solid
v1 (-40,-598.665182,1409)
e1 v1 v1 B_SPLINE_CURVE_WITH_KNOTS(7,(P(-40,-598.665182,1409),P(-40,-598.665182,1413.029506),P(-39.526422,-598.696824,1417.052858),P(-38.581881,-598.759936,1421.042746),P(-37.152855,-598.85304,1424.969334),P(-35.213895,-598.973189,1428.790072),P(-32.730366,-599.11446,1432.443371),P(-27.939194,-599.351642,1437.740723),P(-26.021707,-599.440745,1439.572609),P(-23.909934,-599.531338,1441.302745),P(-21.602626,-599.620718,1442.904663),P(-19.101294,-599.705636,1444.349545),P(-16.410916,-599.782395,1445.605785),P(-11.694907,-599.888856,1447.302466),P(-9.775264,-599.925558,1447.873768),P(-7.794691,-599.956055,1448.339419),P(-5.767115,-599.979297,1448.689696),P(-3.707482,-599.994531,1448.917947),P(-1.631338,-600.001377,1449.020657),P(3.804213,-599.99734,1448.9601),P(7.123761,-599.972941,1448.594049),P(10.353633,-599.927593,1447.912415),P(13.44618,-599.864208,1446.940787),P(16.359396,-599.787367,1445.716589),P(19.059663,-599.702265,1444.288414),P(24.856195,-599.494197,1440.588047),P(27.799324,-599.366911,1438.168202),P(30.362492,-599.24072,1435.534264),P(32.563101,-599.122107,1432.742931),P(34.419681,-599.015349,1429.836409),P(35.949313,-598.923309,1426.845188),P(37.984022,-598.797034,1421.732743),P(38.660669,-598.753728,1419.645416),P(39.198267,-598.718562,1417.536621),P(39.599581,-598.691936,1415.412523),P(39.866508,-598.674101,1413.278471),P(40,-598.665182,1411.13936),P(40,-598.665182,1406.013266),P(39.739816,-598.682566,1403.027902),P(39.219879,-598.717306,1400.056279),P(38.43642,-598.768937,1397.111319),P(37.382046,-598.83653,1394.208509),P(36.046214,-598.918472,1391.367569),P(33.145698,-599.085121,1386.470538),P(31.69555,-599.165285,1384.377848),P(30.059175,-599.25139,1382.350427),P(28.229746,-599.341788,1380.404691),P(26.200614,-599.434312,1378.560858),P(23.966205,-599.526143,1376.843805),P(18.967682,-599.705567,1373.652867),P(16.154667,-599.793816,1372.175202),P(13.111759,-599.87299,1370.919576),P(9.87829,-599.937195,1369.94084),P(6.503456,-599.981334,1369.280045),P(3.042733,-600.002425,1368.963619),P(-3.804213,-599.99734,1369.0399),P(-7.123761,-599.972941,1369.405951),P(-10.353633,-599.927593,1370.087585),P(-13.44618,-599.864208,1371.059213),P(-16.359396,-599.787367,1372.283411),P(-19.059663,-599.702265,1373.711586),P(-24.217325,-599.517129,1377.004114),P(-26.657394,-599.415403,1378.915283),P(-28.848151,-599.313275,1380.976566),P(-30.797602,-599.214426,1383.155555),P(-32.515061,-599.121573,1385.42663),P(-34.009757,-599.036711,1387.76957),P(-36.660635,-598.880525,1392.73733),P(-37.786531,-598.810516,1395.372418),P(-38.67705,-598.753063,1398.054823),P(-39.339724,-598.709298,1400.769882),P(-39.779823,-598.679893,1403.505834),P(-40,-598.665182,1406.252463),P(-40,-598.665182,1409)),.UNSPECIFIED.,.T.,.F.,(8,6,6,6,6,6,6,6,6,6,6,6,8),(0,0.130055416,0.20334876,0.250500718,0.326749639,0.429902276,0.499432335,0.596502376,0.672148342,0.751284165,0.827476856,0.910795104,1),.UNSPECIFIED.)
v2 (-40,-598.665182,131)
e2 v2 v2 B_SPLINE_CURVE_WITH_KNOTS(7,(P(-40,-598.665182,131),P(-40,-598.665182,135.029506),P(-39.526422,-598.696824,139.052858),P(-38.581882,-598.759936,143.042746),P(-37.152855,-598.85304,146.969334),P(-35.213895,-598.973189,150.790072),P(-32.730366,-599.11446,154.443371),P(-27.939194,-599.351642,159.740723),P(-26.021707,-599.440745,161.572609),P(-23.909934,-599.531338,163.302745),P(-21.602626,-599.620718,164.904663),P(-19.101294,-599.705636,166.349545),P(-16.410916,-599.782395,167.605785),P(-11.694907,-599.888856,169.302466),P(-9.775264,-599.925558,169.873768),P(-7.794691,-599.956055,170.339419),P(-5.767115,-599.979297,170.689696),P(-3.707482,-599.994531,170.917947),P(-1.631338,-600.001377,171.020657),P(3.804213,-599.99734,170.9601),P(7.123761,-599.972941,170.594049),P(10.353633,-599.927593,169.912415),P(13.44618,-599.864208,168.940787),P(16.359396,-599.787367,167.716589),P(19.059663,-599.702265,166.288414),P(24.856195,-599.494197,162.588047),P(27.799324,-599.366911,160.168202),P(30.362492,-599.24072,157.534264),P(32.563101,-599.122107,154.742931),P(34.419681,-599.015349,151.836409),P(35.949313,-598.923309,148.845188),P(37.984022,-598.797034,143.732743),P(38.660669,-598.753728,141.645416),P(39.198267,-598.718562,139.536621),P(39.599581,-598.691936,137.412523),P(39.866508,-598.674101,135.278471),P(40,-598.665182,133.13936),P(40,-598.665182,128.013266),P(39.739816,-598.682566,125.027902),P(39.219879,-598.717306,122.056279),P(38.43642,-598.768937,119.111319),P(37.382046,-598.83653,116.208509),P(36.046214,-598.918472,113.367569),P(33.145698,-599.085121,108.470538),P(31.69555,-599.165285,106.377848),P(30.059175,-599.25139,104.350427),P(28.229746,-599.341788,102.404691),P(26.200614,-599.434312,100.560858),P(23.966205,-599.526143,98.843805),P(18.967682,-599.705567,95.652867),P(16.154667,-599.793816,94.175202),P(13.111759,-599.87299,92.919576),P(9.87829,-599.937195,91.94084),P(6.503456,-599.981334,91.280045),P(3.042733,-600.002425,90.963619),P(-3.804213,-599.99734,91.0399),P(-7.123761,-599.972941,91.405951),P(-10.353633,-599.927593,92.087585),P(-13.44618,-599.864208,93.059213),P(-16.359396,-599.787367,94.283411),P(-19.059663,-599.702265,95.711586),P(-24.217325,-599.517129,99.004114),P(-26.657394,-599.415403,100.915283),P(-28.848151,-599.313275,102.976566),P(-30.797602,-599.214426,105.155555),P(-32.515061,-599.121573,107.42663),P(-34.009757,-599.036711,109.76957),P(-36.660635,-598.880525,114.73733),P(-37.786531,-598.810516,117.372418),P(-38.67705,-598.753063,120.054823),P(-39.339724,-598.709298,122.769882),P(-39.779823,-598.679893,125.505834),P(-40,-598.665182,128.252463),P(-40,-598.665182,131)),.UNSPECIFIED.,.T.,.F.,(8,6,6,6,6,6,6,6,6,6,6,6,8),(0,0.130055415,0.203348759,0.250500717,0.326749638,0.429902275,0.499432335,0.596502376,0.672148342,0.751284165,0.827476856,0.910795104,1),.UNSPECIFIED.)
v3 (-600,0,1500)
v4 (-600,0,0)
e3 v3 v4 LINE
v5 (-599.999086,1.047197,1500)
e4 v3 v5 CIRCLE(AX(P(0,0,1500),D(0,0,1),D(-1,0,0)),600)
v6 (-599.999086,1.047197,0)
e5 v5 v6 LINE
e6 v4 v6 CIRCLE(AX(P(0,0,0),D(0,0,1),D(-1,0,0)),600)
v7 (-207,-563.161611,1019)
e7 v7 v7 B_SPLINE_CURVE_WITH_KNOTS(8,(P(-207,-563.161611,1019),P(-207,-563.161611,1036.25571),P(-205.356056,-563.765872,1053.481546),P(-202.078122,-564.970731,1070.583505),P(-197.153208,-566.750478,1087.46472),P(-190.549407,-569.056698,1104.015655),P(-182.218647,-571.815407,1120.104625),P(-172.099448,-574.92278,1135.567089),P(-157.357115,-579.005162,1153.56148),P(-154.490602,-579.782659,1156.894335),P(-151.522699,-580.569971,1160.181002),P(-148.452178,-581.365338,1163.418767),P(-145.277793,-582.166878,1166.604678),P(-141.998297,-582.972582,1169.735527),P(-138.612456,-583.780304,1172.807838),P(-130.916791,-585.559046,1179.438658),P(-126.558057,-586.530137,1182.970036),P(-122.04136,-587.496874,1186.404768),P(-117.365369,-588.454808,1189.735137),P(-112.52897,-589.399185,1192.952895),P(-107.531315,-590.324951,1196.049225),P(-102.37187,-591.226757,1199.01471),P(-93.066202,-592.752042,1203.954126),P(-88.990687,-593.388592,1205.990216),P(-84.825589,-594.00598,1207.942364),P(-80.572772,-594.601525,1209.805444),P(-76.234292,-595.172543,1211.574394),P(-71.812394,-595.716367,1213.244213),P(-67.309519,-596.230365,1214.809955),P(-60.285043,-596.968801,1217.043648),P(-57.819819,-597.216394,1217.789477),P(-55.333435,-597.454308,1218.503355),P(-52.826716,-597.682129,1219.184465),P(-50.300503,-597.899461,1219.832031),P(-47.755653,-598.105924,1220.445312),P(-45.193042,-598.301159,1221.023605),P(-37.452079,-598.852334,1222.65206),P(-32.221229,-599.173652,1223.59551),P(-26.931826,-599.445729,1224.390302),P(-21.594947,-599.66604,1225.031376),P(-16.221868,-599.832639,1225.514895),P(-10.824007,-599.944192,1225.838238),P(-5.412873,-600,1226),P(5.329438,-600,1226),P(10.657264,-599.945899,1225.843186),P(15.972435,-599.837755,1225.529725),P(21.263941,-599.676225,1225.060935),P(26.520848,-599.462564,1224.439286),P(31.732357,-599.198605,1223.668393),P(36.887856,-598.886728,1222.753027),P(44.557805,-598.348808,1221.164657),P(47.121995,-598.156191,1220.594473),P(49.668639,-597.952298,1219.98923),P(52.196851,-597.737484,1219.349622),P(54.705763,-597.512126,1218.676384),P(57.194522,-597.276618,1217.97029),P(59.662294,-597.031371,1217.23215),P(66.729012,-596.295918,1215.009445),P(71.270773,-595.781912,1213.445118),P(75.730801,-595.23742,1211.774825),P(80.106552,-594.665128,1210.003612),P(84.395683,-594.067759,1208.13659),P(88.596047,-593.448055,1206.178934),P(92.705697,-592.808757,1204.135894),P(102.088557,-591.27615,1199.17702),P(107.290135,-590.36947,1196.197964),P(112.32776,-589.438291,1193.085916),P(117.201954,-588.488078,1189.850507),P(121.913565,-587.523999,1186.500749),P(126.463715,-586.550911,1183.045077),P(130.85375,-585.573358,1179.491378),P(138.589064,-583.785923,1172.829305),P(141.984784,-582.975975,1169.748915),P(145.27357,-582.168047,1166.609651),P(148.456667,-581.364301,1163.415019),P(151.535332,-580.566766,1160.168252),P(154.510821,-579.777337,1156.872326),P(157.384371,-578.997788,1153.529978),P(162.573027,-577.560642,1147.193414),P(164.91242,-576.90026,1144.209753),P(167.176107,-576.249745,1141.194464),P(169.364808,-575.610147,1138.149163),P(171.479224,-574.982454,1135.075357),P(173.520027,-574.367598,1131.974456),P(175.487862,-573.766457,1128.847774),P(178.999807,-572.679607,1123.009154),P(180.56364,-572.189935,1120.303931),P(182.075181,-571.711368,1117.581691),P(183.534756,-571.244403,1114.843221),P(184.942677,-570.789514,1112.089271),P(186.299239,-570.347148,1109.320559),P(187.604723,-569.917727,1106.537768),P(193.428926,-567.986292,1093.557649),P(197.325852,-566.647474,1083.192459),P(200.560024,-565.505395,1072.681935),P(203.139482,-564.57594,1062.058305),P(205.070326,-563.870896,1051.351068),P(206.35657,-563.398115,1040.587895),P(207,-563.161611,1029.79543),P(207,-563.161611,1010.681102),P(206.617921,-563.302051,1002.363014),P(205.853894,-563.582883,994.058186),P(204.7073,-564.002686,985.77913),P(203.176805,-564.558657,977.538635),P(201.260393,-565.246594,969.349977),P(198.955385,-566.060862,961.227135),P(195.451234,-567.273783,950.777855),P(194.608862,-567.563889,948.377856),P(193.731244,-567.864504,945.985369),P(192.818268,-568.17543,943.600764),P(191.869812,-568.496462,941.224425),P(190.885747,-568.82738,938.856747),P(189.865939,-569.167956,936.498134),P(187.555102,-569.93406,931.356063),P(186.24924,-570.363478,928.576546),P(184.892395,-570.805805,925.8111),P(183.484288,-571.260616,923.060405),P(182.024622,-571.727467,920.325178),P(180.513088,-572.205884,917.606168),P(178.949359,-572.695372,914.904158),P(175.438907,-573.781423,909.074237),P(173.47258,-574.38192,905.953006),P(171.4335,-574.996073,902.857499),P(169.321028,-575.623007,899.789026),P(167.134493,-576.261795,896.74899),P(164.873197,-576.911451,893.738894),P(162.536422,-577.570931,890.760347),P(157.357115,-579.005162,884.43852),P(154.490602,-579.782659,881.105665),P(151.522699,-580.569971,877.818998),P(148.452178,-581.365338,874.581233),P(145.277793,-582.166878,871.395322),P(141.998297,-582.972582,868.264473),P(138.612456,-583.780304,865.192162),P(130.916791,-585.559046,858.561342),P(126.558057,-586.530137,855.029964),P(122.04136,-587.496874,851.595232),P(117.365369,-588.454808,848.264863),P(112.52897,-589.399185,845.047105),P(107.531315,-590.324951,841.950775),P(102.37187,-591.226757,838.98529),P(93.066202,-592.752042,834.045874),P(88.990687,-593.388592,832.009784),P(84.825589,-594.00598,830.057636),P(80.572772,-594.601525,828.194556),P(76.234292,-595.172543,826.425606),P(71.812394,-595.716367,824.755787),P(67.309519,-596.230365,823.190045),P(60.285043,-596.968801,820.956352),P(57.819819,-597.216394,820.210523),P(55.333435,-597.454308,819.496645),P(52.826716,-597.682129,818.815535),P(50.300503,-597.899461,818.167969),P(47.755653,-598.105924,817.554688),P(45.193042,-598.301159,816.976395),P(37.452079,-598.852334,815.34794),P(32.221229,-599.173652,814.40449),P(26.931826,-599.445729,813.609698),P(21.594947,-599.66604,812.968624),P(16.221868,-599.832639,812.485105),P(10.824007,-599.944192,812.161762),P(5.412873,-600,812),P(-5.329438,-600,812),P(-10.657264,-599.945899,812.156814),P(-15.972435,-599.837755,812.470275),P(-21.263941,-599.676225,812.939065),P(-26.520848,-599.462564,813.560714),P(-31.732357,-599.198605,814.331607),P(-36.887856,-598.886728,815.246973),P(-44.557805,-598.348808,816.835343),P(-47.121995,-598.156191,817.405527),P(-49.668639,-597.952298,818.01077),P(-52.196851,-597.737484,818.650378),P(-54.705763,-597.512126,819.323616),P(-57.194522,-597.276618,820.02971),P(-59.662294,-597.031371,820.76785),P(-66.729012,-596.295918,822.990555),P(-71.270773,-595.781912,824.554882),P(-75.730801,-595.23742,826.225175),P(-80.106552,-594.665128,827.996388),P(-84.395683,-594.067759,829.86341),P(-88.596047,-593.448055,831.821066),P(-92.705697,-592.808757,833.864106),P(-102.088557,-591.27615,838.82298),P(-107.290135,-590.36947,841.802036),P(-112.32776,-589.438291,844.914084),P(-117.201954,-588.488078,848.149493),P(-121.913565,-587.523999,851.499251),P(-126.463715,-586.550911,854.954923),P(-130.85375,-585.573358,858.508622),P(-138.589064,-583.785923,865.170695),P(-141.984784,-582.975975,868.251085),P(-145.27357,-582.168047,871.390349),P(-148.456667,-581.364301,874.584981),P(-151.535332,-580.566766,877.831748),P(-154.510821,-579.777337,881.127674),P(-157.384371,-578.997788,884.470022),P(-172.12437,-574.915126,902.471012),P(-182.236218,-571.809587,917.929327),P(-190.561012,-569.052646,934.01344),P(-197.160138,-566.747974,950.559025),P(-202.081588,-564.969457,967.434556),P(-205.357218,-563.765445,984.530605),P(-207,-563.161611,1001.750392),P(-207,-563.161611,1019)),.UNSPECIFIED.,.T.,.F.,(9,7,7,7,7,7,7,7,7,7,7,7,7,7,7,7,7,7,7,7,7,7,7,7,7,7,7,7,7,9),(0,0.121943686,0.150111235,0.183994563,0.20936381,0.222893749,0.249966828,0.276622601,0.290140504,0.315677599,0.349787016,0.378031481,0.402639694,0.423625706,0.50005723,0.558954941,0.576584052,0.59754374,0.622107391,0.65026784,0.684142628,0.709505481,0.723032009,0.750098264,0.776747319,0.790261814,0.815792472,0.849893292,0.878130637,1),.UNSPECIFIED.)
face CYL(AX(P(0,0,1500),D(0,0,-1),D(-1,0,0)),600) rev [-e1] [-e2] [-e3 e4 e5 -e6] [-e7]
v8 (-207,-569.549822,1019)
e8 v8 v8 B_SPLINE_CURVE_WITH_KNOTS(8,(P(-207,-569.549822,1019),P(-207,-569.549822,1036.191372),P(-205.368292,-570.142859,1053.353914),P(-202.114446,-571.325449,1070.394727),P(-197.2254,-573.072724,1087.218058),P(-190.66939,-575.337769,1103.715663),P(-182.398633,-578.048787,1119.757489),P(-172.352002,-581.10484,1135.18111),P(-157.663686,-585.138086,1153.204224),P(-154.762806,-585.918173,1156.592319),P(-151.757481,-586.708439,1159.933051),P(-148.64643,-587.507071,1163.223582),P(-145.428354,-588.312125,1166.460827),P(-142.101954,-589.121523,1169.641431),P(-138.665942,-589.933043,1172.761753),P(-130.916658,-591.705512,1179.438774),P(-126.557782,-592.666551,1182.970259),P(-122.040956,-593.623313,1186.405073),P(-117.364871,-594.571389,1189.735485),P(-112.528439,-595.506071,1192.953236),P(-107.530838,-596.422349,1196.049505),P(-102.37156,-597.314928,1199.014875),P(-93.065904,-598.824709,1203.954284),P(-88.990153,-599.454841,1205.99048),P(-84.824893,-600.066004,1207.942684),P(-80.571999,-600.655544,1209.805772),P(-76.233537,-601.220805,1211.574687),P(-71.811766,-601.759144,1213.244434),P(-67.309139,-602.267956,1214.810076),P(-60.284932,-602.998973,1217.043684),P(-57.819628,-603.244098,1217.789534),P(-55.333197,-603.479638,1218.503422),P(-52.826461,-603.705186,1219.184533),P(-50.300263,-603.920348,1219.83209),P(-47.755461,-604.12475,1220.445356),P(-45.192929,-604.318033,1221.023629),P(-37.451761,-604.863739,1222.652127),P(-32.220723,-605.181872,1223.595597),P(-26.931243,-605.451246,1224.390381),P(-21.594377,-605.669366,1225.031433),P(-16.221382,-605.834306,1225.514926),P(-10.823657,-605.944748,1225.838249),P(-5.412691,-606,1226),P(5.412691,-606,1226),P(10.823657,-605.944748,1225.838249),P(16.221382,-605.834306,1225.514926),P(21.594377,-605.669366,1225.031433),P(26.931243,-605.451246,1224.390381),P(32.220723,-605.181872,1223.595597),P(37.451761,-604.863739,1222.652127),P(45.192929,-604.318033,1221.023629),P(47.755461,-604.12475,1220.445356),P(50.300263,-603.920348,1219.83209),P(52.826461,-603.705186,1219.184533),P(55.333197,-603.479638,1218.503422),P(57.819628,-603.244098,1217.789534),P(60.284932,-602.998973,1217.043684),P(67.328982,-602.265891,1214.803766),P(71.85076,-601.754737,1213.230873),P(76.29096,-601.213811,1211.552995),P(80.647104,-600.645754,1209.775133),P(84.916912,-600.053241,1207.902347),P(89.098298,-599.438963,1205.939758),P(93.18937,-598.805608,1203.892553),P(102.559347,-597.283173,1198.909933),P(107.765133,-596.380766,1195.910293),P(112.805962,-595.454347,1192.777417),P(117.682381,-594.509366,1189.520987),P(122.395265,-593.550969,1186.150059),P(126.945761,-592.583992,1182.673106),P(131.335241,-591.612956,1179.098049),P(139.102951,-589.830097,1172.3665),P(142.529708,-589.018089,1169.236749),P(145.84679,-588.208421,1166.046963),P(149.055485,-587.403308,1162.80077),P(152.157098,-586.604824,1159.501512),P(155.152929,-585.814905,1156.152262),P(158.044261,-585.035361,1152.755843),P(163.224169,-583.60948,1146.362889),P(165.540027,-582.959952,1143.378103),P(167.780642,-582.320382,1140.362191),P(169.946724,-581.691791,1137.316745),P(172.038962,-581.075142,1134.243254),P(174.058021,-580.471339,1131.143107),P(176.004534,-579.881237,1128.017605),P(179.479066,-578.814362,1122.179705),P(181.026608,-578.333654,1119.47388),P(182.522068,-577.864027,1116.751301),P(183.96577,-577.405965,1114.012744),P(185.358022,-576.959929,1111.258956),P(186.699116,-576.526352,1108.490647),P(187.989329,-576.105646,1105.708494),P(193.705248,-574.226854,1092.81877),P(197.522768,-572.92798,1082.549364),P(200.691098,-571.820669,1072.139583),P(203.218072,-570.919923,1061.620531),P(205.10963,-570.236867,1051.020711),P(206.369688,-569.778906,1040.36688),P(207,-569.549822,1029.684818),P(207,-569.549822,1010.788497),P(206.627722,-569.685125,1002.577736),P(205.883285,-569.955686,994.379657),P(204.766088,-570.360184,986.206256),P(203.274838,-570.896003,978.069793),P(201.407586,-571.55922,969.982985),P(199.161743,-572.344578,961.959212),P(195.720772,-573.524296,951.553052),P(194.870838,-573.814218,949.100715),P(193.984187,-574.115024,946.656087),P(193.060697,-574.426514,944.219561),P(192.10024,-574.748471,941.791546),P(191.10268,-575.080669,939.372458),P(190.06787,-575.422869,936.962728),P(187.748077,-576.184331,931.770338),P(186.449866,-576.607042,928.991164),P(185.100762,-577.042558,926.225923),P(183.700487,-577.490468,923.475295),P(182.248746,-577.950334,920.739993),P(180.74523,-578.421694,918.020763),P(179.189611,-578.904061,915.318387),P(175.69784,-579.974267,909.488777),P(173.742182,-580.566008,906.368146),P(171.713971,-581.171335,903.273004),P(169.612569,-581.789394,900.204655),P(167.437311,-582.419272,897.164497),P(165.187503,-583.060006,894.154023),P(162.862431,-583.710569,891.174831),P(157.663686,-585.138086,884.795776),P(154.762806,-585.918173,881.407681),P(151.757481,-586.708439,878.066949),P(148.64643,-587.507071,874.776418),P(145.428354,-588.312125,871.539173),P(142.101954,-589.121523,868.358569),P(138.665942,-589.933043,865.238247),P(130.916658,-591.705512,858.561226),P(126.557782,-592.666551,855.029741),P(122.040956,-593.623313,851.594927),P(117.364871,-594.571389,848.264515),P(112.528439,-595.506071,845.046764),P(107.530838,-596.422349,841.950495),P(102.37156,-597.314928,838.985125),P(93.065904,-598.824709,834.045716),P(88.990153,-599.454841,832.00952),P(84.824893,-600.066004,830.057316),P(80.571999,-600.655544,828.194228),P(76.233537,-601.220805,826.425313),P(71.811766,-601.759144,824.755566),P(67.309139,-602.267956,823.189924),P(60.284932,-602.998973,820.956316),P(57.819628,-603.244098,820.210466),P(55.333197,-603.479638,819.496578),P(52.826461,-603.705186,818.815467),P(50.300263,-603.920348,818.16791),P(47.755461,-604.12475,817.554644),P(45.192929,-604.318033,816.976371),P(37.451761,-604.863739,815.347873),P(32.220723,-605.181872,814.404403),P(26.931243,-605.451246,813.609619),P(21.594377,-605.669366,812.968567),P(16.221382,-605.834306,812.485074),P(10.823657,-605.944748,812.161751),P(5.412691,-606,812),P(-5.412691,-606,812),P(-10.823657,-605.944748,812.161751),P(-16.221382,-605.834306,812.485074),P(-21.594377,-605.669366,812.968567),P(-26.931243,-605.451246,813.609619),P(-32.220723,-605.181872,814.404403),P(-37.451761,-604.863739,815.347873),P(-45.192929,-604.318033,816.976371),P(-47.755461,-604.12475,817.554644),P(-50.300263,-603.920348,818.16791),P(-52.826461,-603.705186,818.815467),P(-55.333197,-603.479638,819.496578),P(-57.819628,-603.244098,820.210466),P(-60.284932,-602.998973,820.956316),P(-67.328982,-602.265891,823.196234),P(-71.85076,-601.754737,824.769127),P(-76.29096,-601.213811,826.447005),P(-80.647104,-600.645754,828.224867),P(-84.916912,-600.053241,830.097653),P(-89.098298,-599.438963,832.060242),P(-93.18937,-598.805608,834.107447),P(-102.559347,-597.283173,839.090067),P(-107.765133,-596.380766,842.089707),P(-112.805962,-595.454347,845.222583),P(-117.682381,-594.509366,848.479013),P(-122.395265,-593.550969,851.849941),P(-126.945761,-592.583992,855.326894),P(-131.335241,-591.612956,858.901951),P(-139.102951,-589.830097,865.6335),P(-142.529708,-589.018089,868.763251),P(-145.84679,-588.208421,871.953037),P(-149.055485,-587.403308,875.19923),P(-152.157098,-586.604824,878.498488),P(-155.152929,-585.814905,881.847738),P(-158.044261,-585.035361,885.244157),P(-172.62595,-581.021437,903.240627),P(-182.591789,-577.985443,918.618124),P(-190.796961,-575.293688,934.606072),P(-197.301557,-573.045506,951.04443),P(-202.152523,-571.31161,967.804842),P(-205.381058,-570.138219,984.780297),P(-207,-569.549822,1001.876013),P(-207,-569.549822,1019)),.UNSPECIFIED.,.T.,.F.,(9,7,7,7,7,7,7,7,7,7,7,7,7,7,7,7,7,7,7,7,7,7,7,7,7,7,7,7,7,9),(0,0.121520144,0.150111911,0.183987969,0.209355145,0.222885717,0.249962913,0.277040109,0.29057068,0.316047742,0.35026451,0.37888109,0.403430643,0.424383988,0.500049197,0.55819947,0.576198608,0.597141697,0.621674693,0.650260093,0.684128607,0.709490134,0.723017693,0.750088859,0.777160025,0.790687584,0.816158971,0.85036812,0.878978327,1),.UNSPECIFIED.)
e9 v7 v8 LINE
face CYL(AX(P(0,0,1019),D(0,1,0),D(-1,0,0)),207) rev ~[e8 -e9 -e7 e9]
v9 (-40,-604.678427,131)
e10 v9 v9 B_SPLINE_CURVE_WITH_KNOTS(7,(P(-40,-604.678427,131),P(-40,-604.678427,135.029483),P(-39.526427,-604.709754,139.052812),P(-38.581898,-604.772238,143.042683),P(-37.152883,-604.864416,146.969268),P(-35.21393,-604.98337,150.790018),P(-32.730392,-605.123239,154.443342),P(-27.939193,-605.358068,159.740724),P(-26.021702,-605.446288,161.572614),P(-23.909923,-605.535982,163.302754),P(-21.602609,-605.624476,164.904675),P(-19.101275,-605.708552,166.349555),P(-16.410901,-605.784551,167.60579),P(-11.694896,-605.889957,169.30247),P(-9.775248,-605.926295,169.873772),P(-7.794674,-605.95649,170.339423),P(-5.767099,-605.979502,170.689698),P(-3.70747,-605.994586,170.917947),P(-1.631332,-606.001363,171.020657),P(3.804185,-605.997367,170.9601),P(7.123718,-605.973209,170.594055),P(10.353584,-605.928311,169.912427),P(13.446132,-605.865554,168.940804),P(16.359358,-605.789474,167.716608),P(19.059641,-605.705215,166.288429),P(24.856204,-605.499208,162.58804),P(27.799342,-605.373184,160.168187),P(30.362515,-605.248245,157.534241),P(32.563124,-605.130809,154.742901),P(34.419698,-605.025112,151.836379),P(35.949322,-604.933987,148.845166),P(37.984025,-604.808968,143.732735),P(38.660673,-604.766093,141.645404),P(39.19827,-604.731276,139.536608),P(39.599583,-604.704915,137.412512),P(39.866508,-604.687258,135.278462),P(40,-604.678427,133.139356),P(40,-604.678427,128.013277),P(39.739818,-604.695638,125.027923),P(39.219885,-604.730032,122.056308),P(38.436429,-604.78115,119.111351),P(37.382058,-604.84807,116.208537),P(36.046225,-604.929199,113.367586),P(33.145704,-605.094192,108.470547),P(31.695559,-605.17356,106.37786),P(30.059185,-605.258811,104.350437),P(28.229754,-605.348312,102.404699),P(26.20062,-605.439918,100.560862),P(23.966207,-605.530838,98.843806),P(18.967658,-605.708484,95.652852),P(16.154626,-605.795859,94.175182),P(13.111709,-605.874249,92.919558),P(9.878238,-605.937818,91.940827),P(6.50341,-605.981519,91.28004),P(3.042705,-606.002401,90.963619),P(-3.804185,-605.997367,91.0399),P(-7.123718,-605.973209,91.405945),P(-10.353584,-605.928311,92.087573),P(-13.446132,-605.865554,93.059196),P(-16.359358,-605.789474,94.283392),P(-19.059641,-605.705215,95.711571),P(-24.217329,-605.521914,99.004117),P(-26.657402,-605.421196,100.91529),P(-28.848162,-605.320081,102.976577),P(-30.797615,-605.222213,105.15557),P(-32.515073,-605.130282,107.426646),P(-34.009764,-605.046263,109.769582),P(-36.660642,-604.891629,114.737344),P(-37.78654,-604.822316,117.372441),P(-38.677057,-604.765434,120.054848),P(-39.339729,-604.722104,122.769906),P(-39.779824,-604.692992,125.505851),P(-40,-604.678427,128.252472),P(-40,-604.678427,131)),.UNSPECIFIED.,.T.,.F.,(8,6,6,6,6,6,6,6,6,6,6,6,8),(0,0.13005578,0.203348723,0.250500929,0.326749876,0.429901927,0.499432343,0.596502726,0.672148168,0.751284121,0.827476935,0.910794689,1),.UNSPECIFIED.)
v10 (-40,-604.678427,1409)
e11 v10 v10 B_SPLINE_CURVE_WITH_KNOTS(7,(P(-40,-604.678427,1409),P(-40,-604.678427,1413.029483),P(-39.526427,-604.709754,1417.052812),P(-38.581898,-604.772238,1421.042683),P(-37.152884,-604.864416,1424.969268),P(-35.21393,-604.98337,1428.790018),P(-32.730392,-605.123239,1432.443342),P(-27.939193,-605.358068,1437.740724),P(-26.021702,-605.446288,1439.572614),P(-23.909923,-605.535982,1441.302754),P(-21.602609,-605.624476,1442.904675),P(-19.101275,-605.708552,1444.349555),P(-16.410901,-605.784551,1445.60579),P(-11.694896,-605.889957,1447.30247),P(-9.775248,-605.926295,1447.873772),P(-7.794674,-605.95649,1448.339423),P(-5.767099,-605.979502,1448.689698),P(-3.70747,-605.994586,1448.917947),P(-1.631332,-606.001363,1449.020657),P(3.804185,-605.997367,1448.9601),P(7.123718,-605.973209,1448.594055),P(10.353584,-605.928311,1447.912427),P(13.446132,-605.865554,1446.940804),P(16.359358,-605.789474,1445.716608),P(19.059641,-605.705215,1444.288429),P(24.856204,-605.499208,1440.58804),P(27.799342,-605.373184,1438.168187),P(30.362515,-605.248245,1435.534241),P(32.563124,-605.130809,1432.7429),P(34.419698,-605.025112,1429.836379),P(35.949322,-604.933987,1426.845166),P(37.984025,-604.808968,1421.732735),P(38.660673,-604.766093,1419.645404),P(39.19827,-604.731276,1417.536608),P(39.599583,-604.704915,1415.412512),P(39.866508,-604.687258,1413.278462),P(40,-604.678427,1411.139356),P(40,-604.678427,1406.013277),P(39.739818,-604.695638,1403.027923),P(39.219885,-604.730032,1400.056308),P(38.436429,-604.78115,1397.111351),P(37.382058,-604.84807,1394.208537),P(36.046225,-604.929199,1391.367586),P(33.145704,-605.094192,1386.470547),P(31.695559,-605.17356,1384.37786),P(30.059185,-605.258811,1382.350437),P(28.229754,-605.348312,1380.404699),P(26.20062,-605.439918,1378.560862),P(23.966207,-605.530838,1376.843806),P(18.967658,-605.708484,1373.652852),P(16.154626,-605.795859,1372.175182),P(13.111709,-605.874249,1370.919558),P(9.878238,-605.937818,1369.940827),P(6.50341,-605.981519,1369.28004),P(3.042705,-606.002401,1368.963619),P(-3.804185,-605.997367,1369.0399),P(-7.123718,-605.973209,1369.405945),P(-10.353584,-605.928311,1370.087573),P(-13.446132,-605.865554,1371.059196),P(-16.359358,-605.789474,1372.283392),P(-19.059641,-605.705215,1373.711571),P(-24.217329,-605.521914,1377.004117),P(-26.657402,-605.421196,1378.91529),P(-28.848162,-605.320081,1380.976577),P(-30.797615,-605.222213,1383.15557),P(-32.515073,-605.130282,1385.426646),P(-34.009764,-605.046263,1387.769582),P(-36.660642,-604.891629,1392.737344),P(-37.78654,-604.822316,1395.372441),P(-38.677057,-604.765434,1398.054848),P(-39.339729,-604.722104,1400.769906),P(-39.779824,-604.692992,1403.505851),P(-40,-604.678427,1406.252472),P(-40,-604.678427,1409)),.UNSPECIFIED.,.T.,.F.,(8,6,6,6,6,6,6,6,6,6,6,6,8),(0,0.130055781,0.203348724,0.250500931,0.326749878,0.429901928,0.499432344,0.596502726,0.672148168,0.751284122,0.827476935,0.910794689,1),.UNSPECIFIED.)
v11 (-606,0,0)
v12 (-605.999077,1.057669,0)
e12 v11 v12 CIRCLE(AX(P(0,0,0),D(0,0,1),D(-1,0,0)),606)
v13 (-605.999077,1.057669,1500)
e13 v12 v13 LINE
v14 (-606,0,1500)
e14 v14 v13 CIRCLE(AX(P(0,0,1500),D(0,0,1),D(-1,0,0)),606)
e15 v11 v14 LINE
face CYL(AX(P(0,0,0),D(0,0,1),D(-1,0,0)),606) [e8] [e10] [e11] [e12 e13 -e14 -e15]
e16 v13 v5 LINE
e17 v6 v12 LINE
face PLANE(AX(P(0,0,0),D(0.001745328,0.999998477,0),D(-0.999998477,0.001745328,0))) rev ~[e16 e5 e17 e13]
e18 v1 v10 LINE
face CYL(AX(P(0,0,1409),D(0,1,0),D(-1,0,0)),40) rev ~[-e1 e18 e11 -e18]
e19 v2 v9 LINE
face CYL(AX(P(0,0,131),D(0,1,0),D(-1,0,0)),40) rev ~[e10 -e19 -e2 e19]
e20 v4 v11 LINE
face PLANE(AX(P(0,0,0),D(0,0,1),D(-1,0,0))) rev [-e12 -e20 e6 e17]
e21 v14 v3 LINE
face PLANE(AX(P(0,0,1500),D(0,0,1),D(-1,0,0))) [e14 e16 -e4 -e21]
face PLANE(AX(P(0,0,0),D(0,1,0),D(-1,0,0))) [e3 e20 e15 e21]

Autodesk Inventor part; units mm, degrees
ref_plane "YZ Plane" through (0, 0, 0) normal (1, 0, 0) x (0, 1, 0)
ref_plane "XZ Plane" through (0, 0, 0) normal (0, 1, 0) x (-1, 0, 0)
ref_plane "XY Plane" through (0, 0, 0) normal (0, 0, 1) x (1, 0, 0)
sketch "Sketch1" plane through (0, 0, 0) normal (0, 1, 0) x (-1, 0, 0)
  line L0 (606, 1500) -> (600, 1500)
  line L1 (600, 1500) -> (600, 0)
  line L2 (600, 0) -> (606, 0)
  line L3 (606, 0) -> (606, 1500)
  line L4 (0, 0) -> (0, 1673.0415)
  point P0 (603, 0)
  dimension "d0" = 6
  dimension "d1" = 1500
  dimension "d2" = 1200
revolve "Revolution1" add sketch "Sketch1" angle 359.9 about axis through (0, 0, 0) along (0, 0, 1)
sketch "Sketch2" plane through (0, 0, 0) normal (0, 1, 0) x (-1, 0, 0)
  circle A0 centre (0, 1019) radius 207
  circle A1 centre (0, 131) radius 40
  circle A2 centre (0, 1409) radius 40
  line L0 (600, 1500) -> (-600, 1500) projected
  point P0 (0, 0)
  point P1 (599.9991, 1500)
  dimension "d4" = 414
  dimension "d5" = 80
  dimension "d6" = 80
  dimension "d7" = 131
  dimension "d8" = 91
  dimension "d9" = 481
extrude "Extrusion1" cut sketch "Sketch2" against normal through all
equation "\"d1\" = Высота_сред_части"
equation "\"d2\" = Внутр_Диам"
equation "\"d4\" = Внутр_диам_ревиз_окна"
equation "\"d5\" = Внешний_диам_трубы_подкл"
equation "\"d6\" = Внешний_диам_трубы_подкл"
equation "\"BendRadius\" = Thickness"
equation "\"BendReliefWidth\" = Thickness"
equation "\"BendReliefDepth\" = 0.5 * Thickness"
equation "\"CornerReliefSize\" = 4 * Thickness"
equation "\"MinimumRemnant\" = 2 * Thickness"
equation "\"TransitionRadius\" = BendRadius"
equation "\"JacobiRadiusSize\" = BendRadius"
equation "\"GapSize\" = Thickness"
equation "\"Высота_сред_части\" = 1500"
equation "\"Внутр_Диам\" = 1200"
equation "\"Внутр_диам_ревиз_окна\" = 414"
equation "\"Внешний_диам_трубы_подкл\" = 80"
equation "\"Thickness\" = 6"
properties part number "Стенка фильтра D1200"
